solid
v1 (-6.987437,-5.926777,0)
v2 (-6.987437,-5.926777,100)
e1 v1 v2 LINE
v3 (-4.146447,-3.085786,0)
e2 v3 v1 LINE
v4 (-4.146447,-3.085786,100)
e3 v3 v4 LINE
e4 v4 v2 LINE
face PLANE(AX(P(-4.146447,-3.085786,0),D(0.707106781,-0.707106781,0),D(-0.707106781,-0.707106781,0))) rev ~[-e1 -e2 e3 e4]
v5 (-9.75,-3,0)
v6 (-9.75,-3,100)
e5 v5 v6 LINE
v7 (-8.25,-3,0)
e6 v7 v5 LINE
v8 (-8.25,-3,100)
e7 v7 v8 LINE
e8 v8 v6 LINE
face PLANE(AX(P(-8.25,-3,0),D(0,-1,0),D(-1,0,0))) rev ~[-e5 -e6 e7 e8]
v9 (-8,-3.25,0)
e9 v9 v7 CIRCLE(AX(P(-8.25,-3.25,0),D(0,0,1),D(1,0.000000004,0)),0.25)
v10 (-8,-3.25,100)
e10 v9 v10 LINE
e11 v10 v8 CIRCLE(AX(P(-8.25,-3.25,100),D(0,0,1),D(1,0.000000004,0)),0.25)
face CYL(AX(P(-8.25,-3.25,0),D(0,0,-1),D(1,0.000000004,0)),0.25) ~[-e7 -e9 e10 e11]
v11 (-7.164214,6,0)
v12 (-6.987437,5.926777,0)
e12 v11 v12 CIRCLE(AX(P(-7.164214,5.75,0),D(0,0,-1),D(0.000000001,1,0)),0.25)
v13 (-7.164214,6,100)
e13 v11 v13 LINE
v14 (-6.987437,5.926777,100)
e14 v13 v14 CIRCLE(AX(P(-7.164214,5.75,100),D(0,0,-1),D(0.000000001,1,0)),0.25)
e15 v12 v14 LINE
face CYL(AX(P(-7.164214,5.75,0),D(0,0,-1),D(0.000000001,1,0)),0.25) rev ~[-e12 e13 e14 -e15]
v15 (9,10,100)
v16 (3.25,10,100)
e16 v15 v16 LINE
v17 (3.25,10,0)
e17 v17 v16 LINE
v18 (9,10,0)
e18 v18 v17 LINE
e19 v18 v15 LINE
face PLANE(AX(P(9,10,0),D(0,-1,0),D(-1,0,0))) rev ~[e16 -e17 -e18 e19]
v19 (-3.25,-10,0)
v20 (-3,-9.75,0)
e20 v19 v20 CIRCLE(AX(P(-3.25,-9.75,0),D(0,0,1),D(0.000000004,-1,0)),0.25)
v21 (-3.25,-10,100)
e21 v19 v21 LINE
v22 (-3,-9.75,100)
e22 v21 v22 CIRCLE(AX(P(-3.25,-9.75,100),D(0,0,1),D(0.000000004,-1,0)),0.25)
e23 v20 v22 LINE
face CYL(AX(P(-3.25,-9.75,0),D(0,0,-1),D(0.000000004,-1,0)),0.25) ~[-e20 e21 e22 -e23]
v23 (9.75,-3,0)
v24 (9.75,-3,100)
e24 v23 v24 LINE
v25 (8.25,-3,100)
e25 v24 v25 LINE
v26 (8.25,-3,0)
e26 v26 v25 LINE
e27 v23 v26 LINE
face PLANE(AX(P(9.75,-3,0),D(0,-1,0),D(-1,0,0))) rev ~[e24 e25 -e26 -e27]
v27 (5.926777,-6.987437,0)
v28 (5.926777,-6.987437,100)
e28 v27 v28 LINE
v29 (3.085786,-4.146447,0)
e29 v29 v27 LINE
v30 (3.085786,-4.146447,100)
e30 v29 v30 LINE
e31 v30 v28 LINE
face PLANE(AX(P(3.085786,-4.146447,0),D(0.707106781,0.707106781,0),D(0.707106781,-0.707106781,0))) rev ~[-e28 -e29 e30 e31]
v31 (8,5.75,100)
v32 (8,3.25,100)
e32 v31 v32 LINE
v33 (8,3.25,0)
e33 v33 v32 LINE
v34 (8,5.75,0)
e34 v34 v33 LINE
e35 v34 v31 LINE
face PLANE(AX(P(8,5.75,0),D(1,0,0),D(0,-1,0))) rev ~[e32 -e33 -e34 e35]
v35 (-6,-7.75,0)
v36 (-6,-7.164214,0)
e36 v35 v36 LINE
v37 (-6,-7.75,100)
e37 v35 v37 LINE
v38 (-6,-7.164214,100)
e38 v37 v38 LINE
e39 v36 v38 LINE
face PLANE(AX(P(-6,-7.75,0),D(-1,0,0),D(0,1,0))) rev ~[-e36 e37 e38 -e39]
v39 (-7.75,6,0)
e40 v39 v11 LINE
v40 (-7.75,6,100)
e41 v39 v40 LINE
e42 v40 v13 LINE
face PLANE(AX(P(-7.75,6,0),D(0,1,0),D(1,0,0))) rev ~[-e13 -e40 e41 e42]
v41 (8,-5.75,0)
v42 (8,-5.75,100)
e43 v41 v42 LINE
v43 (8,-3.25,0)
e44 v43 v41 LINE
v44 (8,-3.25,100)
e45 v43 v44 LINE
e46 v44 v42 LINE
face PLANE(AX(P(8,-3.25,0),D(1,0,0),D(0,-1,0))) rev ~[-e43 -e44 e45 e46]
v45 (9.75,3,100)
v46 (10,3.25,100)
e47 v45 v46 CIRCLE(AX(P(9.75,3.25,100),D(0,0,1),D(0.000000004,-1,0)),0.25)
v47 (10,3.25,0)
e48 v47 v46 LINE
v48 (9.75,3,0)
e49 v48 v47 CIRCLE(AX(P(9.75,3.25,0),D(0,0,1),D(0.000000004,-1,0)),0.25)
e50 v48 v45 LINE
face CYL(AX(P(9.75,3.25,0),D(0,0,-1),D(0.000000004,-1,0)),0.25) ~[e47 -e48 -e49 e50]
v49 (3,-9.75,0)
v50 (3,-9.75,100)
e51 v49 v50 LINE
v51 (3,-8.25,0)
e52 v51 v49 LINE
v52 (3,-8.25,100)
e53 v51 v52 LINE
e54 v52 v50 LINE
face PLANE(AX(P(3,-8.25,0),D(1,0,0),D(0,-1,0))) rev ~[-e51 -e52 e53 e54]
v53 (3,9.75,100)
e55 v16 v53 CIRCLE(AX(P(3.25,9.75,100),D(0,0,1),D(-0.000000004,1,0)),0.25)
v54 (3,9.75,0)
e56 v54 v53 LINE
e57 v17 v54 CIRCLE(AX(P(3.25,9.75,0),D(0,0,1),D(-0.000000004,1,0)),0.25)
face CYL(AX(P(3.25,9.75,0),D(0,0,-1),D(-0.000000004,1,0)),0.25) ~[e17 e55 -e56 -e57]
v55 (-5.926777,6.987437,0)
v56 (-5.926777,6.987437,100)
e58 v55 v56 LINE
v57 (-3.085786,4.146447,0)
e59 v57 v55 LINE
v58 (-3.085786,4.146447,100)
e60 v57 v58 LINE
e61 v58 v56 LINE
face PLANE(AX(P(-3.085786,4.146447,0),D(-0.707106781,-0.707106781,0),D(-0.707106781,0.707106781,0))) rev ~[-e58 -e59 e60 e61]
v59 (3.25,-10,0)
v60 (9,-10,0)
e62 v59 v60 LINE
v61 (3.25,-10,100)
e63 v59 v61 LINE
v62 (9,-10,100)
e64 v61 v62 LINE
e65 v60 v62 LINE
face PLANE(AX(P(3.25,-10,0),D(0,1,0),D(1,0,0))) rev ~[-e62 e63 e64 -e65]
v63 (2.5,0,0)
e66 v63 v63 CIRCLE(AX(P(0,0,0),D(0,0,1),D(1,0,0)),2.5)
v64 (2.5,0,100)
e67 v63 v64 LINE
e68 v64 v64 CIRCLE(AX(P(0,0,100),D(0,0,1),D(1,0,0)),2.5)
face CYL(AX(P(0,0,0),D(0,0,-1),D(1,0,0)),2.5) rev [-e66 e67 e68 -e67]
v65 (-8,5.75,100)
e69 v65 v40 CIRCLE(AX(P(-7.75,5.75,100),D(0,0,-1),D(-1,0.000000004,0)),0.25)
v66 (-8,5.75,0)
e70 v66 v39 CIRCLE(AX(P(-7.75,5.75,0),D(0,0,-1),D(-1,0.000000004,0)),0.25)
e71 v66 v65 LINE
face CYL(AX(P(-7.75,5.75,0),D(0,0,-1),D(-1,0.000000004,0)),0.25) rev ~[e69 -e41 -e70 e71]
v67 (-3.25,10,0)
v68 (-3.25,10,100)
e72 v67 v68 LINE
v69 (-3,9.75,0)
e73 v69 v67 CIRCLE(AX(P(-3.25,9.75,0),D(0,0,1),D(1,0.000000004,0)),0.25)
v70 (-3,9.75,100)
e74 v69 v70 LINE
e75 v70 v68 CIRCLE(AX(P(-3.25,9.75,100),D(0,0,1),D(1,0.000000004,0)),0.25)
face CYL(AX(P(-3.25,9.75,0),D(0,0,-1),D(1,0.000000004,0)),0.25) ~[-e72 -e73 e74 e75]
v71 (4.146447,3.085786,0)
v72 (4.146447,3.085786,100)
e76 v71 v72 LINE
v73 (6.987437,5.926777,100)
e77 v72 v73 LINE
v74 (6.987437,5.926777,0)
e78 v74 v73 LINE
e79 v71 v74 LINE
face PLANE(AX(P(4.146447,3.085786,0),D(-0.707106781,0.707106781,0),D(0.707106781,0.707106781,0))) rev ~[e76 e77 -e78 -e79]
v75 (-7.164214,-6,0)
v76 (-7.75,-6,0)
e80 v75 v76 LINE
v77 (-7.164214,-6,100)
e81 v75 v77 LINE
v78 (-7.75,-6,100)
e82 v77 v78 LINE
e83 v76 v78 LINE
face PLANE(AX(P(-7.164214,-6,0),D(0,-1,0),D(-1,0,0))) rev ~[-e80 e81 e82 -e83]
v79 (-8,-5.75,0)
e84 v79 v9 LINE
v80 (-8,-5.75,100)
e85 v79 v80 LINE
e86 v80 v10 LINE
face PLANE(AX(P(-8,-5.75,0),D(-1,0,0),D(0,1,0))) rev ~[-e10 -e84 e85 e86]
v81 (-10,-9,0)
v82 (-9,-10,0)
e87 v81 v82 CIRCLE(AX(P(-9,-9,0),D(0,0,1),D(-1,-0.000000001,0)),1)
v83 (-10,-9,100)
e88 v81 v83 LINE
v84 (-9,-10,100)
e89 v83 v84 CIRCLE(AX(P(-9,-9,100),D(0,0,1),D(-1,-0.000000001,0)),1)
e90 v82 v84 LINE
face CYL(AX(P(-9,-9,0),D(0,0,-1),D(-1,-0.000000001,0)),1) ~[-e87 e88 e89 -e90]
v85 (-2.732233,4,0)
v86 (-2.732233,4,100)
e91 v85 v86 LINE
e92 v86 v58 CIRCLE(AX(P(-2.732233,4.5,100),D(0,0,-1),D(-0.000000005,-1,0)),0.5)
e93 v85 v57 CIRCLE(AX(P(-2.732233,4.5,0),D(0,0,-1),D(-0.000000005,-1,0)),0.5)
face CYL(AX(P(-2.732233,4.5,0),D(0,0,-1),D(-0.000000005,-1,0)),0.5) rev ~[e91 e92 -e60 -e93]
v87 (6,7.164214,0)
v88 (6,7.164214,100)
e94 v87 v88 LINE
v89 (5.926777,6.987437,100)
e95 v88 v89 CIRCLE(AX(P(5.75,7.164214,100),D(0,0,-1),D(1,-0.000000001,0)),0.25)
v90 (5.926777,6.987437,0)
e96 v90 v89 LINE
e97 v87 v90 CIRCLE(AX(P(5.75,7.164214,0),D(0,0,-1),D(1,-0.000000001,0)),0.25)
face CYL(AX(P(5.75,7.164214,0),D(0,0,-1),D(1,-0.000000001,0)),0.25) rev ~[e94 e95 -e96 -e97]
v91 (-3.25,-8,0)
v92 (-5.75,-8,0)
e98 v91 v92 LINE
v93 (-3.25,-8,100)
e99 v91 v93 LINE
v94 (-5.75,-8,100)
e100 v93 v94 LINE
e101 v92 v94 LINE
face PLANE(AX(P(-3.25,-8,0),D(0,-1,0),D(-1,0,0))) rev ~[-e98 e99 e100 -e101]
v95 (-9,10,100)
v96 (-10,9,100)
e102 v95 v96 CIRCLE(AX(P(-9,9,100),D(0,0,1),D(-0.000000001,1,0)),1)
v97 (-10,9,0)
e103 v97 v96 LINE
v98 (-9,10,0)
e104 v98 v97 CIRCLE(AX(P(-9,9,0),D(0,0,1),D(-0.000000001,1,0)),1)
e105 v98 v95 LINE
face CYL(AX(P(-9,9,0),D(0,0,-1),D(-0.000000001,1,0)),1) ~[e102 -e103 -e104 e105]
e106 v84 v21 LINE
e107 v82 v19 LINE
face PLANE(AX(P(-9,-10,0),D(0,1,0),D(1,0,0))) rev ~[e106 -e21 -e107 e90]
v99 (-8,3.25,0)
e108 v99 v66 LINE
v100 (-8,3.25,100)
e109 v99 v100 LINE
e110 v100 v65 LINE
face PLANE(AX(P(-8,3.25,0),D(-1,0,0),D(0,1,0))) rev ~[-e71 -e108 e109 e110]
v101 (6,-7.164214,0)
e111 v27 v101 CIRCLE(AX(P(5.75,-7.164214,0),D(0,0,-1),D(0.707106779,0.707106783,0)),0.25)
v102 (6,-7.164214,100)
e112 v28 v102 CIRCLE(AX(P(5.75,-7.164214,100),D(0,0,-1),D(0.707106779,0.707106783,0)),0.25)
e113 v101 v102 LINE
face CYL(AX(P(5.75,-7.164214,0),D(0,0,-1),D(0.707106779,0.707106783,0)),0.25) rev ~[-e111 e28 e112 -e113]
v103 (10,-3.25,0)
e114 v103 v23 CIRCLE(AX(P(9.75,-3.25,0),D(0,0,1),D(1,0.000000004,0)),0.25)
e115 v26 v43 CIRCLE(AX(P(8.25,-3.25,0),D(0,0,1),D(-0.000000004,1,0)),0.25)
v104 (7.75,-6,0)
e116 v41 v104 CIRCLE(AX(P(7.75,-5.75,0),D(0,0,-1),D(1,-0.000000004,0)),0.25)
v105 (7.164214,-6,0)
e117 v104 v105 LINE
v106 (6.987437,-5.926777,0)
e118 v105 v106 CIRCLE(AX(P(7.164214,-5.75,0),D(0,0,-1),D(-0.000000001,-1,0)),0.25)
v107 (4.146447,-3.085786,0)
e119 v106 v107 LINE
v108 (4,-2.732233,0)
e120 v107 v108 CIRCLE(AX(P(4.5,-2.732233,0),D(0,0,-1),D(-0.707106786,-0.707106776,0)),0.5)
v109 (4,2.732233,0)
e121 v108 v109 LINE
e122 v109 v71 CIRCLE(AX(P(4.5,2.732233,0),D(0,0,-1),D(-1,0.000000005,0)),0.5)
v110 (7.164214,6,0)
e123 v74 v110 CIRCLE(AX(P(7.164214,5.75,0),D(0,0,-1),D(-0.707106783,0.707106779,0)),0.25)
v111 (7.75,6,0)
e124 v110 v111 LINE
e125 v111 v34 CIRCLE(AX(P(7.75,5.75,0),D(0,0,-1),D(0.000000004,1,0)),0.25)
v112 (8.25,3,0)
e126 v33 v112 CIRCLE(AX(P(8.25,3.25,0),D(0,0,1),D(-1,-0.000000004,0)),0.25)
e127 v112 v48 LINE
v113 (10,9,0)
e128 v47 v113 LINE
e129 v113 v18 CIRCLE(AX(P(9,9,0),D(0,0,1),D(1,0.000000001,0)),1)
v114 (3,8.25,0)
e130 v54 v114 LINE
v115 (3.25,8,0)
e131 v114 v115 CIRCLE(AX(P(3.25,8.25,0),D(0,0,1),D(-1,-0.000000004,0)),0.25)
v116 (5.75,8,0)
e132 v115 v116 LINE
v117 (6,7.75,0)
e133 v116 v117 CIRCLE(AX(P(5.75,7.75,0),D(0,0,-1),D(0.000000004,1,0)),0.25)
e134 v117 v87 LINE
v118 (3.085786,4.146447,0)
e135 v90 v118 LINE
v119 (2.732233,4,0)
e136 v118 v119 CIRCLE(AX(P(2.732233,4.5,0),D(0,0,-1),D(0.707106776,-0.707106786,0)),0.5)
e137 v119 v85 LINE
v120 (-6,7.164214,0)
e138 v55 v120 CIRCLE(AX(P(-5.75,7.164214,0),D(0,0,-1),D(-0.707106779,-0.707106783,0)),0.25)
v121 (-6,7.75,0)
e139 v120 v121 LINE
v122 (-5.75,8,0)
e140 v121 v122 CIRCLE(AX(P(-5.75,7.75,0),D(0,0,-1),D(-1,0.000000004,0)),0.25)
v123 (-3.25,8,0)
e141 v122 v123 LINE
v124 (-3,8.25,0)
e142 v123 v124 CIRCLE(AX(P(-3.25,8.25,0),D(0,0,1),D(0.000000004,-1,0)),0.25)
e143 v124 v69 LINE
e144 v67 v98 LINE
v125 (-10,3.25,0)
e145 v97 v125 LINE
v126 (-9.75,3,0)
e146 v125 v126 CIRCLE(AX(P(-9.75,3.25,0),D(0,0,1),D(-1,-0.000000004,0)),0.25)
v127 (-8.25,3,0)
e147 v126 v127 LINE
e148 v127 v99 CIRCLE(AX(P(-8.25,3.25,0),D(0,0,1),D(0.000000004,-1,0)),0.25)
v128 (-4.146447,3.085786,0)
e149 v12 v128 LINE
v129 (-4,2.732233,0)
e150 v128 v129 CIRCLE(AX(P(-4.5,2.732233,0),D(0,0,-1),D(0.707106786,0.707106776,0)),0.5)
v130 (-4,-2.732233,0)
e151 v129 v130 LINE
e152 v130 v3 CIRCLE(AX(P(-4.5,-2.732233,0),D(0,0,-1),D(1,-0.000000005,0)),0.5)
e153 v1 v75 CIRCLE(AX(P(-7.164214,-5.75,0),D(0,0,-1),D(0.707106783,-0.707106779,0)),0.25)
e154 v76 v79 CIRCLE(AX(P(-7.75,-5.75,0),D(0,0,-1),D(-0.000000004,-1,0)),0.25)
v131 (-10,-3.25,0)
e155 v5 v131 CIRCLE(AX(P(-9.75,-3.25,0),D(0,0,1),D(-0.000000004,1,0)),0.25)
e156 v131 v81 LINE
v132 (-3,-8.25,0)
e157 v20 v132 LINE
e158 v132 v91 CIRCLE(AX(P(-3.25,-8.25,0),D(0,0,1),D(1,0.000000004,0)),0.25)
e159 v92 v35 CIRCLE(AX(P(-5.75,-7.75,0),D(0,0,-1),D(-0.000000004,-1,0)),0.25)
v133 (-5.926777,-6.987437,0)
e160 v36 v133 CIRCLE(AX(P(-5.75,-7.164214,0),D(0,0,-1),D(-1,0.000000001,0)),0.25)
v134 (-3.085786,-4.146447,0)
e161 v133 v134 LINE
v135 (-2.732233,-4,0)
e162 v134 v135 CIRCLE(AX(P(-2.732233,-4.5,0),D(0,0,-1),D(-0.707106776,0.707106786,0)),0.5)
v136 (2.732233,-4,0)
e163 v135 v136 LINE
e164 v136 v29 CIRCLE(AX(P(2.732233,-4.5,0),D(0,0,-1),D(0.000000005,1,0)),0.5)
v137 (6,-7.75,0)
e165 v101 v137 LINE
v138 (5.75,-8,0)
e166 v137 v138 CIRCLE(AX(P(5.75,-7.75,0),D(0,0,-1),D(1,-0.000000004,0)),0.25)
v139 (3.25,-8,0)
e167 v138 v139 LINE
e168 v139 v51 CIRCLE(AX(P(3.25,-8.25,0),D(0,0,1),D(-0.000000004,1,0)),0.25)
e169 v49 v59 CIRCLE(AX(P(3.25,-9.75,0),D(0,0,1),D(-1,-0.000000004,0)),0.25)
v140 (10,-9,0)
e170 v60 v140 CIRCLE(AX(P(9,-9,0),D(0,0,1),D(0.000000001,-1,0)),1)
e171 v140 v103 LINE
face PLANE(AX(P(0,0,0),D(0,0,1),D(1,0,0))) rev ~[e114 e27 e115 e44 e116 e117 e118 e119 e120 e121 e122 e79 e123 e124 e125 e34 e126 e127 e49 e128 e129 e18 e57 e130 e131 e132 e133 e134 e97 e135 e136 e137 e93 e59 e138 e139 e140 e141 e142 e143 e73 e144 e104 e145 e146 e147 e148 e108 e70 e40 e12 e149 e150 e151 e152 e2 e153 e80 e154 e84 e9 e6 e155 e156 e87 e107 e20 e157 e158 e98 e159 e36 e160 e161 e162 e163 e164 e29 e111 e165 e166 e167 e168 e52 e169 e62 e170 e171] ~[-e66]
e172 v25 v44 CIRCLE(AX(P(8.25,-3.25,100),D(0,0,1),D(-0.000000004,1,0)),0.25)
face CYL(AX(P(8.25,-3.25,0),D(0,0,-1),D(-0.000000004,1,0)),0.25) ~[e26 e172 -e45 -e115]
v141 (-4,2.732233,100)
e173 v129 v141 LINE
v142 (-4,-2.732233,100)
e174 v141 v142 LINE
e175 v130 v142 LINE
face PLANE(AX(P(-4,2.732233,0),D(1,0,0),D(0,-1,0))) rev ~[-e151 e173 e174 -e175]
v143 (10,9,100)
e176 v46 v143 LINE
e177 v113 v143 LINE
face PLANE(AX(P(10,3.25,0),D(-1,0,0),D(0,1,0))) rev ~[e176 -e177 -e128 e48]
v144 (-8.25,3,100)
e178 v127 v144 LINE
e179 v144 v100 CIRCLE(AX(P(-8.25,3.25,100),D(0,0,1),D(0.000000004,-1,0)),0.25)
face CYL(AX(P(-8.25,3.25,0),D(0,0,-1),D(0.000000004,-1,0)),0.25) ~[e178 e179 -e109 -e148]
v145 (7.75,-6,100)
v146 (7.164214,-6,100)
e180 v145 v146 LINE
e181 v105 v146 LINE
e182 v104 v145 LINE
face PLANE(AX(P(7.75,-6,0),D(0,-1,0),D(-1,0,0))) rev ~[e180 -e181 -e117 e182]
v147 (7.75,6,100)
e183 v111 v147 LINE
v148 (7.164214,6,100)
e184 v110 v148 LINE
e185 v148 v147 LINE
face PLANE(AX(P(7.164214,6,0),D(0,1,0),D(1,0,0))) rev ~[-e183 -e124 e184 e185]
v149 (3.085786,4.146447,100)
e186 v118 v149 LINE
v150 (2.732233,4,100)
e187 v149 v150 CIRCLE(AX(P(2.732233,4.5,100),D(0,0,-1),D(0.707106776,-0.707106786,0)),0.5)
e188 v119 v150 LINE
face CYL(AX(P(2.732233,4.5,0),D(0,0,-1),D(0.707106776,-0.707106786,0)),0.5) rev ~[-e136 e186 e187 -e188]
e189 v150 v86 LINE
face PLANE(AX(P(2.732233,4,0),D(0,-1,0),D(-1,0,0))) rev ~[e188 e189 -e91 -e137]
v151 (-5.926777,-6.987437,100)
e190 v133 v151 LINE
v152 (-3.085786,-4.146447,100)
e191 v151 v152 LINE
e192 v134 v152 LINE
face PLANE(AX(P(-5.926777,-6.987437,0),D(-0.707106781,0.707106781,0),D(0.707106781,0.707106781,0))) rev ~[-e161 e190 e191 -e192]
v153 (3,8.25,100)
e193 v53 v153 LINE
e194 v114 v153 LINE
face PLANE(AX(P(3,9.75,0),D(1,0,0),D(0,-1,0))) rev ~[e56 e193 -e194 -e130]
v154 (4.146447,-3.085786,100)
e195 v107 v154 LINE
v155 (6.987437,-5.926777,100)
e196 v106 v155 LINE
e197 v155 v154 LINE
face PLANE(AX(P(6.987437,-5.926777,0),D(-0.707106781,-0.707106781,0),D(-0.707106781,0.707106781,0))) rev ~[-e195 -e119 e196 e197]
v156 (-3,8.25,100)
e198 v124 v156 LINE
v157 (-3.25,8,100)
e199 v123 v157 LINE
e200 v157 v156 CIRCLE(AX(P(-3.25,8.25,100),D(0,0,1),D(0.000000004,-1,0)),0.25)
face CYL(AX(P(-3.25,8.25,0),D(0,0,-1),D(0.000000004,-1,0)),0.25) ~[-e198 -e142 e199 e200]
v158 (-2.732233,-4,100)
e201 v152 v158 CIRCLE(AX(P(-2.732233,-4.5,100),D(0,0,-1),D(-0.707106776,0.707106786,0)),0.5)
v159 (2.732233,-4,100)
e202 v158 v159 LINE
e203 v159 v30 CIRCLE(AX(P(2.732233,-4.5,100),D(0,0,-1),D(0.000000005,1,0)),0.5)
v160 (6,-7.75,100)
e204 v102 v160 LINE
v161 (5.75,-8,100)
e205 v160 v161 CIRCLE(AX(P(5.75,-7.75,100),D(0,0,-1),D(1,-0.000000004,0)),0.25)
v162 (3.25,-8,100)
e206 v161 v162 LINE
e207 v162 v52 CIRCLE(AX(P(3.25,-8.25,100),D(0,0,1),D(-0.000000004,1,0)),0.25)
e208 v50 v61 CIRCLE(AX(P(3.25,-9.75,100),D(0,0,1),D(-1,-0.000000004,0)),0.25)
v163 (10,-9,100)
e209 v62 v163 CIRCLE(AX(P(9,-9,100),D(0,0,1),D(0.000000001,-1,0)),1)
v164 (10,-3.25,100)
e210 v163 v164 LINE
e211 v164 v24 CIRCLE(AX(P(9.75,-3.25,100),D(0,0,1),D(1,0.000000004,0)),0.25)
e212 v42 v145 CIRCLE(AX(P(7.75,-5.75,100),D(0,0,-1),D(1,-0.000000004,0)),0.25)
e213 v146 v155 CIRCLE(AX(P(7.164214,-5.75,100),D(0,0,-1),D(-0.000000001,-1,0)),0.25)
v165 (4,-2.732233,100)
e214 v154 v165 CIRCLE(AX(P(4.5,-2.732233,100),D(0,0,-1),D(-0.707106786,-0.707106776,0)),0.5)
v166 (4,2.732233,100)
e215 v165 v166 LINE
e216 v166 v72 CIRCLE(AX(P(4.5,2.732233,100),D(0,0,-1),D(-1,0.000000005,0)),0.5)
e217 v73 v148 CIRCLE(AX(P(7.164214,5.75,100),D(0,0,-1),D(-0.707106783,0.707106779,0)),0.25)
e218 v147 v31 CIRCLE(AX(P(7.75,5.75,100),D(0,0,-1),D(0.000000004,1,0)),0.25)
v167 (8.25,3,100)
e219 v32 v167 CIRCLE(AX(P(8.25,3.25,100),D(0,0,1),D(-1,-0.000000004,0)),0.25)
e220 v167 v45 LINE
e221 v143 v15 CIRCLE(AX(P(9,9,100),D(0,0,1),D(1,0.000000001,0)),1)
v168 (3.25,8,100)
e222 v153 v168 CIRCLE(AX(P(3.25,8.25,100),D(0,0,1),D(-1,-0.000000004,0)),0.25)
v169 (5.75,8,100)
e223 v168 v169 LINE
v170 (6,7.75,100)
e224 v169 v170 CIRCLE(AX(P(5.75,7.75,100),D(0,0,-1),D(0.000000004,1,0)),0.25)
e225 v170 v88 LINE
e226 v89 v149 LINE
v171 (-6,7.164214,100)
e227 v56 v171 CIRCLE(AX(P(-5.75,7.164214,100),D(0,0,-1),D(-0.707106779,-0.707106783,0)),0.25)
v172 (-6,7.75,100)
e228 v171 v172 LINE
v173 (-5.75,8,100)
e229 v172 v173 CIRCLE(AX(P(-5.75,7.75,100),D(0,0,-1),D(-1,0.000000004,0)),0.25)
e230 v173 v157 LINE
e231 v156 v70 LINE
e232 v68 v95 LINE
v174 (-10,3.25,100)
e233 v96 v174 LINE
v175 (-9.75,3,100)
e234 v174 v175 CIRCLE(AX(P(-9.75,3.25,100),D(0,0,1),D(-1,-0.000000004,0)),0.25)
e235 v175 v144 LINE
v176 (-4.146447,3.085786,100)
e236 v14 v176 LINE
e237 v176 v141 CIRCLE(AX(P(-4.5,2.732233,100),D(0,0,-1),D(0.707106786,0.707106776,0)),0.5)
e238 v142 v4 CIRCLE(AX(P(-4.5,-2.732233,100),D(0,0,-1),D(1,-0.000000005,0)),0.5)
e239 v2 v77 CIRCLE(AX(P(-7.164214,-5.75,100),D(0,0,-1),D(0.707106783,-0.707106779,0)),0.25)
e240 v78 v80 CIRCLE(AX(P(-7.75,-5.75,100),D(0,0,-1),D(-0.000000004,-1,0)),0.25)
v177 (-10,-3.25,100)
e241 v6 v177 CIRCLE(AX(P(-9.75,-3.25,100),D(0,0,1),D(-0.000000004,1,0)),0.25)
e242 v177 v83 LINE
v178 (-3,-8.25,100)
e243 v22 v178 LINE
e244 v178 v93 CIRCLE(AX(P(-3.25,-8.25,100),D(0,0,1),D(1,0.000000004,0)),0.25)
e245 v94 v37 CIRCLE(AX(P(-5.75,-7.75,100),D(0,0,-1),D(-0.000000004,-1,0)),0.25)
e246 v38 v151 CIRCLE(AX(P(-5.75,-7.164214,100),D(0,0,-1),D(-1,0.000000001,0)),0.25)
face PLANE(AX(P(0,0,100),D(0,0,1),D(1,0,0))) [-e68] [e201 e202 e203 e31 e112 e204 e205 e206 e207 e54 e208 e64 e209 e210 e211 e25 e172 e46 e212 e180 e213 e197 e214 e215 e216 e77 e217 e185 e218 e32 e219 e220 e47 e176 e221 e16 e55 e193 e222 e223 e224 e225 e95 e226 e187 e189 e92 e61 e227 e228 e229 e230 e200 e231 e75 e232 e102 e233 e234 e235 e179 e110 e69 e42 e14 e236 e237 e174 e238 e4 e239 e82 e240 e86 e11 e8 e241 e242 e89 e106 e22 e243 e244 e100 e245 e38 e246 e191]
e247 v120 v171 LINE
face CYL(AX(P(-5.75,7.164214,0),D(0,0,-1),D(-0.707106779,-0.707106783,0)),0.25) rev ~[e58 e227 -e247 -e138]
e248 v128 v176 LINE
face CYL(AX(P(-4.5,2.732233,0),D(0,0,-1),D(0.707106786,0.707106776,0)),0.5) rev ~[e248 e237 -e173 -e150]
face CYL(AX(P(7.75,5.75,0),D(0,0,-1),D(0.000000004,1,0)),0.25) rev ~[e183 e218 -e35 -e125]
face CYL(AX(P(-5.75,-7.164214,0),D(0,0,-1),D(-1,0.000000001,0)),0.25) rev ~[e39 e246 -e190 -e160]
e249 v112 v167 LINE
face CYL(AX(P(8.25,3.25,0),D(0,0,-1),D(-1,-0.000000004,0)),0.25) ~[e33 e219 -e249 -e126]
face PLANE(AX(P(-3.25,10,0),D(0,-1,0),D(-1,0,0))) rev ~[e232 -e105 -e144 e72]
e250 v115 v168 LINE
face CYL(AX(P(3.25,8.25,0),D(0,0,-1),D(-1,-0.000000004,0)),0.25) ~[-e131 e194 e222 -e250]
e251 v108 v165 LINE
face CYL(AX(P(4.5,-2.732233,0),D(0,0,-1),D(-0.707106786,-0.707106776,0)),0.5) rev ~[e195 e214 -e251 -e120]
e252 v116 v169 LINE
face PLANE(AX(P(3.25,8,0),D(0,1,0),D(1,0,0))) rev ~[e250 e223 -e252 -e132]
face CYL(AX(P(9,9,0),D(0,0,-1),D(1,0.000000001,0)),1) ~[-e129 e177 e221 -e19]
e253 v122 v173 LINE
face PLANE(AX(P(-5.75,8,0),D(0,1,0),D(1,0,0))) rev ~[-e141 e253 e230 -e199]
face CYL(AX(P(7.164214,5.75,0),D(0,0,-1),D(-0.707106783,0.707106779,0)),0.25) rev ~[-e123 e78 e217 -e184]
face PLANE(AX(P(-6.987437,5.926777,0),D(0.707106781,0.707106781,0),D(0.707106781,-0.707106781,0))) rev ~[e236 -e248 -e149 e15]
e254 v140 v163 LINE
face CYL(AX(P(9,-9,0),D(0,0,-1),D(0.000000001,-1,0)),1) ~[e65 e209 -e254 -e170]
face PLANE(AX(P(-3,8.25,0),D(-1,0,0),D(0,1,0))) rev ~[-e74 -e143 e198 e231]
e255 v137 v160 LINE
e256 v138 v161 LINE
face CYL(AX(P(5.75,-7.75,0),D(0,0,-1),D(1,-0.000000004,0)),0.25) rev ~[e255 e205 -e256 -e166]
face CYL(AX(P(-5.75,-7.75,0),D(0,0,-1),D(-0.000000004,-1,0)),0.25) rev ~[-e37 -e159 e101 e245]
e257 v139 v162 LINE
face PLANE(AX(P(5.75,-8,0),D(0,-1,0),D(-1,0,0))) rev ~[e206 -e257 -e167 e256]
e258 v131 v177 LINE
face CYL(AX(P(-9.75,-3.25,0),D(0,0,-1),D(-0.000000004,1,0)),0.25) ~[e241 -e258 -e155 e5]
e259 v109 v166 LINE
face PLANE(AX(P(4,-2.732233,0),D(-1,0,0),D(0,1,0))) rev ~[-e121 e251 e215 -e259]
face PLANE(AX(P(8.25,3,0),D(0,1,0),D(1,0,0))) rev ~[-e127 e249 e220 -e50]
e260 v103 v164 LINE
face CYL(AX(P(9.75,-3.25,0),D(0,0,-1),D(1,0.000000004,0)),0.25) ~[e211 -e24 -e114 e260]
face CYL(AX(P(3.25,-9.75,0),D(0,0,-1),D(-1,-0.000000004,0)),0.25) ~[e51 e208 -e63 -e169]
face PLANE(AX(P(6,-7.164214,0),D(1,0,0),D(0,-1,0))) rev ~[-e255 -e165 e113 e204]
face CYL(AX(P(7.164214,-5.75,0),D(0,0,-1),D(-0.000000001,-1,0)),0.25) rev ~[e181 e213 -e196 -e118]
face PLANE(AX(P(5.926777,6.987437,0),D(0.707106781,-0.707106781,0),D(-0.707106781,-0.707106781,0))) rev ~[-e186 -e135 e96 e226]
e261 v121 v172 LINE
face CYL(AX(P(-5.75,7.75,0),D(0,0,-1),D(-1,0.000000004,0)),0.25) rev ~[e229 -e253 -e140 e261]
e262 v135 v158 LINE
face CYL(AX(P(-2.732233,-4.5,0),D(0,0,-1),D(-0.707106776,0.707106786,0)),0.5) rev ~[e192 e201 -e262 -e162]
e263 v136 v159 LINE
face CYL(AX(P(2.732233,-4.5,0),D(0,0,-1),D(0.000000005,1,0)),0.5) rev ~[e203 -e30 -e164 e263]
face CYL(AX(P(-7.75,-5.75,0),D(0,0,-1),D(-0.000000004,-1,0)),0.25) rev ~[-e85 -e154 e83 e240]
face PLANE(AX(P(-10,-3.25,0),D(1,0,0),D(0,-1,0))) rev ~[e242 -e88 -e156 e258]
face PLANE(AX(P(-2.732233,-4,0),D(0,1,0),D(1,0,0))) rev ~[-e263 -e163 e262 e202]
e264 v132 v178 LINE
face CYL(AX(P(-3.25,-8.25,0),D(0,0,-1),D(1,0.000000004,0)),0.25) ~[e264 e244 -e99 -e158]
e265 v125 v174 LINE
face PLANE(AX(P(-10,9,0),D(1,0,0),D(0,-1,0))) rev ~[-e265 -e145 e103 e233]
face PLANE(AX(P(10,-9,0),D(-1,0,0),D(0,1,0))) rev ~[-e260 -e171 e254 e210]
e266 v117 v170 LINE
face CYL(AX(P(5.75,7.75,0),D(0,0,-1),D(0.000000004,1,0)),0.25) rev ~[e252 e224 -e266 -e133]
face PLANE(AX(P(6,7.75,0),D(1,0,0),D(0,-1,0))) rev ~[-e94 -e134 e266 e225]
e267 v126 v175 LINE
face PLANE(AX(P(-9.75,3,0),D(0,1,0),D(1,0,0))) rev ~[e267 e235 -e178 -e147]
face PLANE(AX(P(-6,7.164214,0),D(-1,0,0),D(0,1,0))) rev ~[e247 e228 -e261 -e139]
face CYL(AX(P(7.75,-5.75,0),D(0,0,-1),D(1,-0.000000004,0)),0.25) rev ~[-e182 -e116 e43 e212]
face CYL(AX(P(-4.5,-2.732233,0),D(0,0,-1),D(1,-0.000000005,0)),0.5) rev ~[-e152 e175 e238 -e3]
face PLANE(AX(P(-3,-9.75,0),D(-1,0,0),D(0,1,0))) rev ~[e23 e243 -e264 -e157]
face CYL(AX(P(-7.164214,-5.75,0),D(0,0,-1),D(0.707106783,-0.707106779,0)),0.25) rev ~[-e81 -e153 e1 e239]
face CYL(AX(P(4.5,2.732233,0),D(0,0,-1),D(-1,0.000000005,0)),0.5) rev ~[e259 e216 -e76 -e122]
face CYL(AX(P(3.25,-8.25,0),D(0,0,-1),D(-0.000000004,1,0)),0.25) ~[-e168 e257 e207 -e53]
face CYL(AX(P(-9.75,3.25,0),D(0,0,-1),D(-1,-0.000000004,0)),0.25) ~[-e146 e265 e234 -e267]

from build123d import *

# Parameters (mm, degrees)
SKETCH2_R           = 2.5
BOSS_EXTRUDE1_DEPTH = 100


with BuildPart() as part:
    # Sketch2 → Boss-Extrude1 (new body)
    with BuildSketch(Plane.XY):
        with BuildLine():
            Line((10, 3.25), (10, 9))
            ThreePointArc((10, 9), (9.707106781, 9.707106781), (9, 10))
            Line((9, 10), (3.25, 10))
            ThreePointArc((3.25, 10), (3.073223305, 9.926776695), (3, 9.75))
            Line((3, 9.75), (3, 8.25))
            ThreePointArc((3, 8.25), (3.073223305, 8.073223305), (3.25, 8))
            Line((3.25, 8), (5.75, 8))
            ThreePointArc((5.75, 8), (5.926776695, 7.926776695), (6, 7.75))
            Line((6, 7.75), (6, 7.164213562))
            ThreePointArc((6, 7.164213562), (5.980969883, 7.068542704), (5.926776695, 6.987436867))
            Line((5.926776695, 6.987436867), (3.085786438, 4.146446609))
            ThreePointArc((3.085786438, 4.146446609), (2.923574763, 4.038060234), (2.732233047, 4))
            Line((2.732233047, 4), (-2.732233047, 4))
            ThreePointArc((-2.732233047, 4), (-2.923574763, 4.038060234), (-3.085786438, 4.146446609))
            Line((-3.085786438, 4.146446609), (-5.926776695, 6.987436867))
            ThreePointArc((-5.926776695, 6.987436867), (-5.980969883, 7.068542704), (-6, 7.164213562))
            Line((-6, 7.164213562), (-6, 7.75))
            ThreePointArc((-6, 7.75), (-5.926776695, 7.926776695), (-5.75, 8))
            Line((-5.75, 8), (-3.25, 8))
            ThreePointArc((-3.25, 8), (-3.073223305, 8.073223305), (-3, 8.25))
            Line((-3, 8.25), (-3, 9.75))
            ThreePointArc((-3, 9.75), (-3.073223305, 9.926776695), (-3.25, 10))
            Line((-3.25, 10), (-9, 10))
            ThreePointArc((-9, 10), (-9.707106781, 9.707106781), (-10, 9))
            Line((-10, 9), (-10, 3.25))
            ThreePointArc((-10, 3.25), (-9.926776695, 3.073223305), (-9.75, 3))
            Line((-9.75, 3), (-8.25, 3))
            ThreePointArc((-8.25, 3), (-8.073223305, 3.073223305), (-8, 3.25))
            Line((-8, 3.25), (-8, 5.75))
            ThreePointArc((-8, 5.75), (-7.926776695, 5.926776695), (-7.75, 6))
            Line((-7.75, 6), (-7.164213562, 6))
            ThreePointArc((-7.164213562, 6), (-7.068542704, 5.980969883), (-6.987436867, 5.926776695))
            Line((-6.987436867, 5.926776695), (-4.146446609, 3.085786438))
            ThreePointArc((-4.146446609, 3.085786438), (-4.038060234, 2.923574763), (-4, 2.732233047))
            Line((-4, 2.732233047), (-4, -2.732233047))
            ThreePointArc((-4, -2.732233047), (-4.038060234, -2.923574763), (-4.146446609, -3.085786438))
            Line((-4.146446609, -3.085786438), (-6.987436867, -5.926776695))
            ThreePointArc((-6.987436867, -5.926776695), (-7.068542704, -5.980969883), (-7.164213562, -6))
            Line((-7.164213562, -6), (-7.75, -6))
            ThreePointArc((-7.75, -6), (-7.926776695, -5.926776695), (-8, -5.75))
            Line((-8, -5.75), (-8, -3.25))
            ThreePointArc((-8, -3.25), (-8.073223305, -3.073223305), (-8.25, -3))
            Line((-8.25, -3), (-9.75, -3))
            ThreePointArc((-9.75, -3), (-9.926776695, -3.073223305), (-10, -3.25))
            Line((-10, -3.25), (-10, -9))
            ThreePointArc((-10, -9), (-9.707106781, -9.707106781), (-9, -10))
            Line((-9, -10), (-3.25, -10))
            ThreePointArc((-3.25, -10), (-3.073223305, -9.926776695), (-3, -9.75))
            Line((-3, -9.75), (-3, -8.25))
            ThreePointArc((-3, -8.25), (-3.073223305, -8.073223305), (-3.25, -8))
            Line((-3.25, -8), (-5.75, -8))
            ThreePointArc((-5.75, -8), (-5.926776695, -7.926776695), (-6, -7.75))
            Line((-6, -7.75), (-6, -7.164213562))
            ThreePointArc((-6, -7.164213562), (-5.980969883, -7.068542704), (-5.926776695, -6.987436867))
            Line((-5.926776695, -6.987436867), (-3.085786438, -4.146446609))
            ThreePointArc((-3.085786438, -4.146446609), (-2.923574763, -4.038060234), (-2.732233047, -4))
            Line((-2.732233047, -4), (2.732233047, -4))
            ThreePointArc((2.732233047, -4), (2.923574763, -4.038060234), (3.085786438, -4.146446609))
            Line((3.085786438, -4.146446609), (5.926776695, -6.987436867))
            ThreePointArc((5.926776695, -6.987436867), (5.980969883, -7.068542704), (6, -7.164213562))
            Line((6, -7.164213562), (6, -7.75))
            ThreePointArc((6, -7.75), (5.926776695, -7.926776695), (5.75, -8))
            Line((5.75, -8), (3.25, -8))
            ThreePointArc((3.25, -8), (3.073223305, -8.073223305), (3, -8.25))
            Line((3, -8.25), (3, -9.75))
            ThreePointArc((3, -9.75), (3.073223305, -9.926776695), (3.25, -10))
            Line((3.25, -10), (9, -10))
            ThreePointArc((9, -10), (9.707106781, -9.707106781), (10, -9))
            Line((10, -9), (10, -3.25))
            ThreePointArc((10, -3.25), (9.926776695, -3.073223305), (9.75, -3))
            Line((9.75, -3), (8.25, -3))
            ThreePointArc((8.25, -3), (8.073223305, -3.073223305), (8, -3.25))
            Line((8, -3.25), (8, -5.75))
            ThreePointArc((8, -5.75), (7.926776695, -5.926776695), (7.75, -6))
            Line((7.75, -6), (7.164213562, -6))
            ThreePointArc((7.164213562, -6), (7.068542704, -5.980969883), (6.987436867, -5.926776695))
            Line((6.987436867, -5.926776695), (4.146446609, -3.085786438))
            ThreePointArc((4.146446609, -3.085786438), (4.038060234, -2.923574763), (4, -2.732233047))
            Line((4, -2.732233047), (4, 2.732233047))
            ThreePointArc((4, 2.732233047), (4.038060234, 2.923574763), (4.146446609, 3.085786438))
            Line((4.146446609, 3.085786438), (6.987436867, 5.926776695))
            ThreePointArc((6.987436867, 5.926776695), (7.068542704, 5.980969883), (7.164213562, 6))
            Line((7.164213562, 6), (7.75, 6))
            ThreePointArc((7.75, 6), (7.926776695, 5.926776695), (8, 5.75))
            Line((8, 5.75), (8, 3.25))
            ThreePointArc((8, 3.25), (8.073223305, 3.073223305), (8.25, 3))
            Line((8.25, 3), (9.75, 3))
            ThreePointArc((9.75, 3), (9.926776695, 3.073223305), (10, 3.25))
        make_face()
        Circle(SKETCH2_R, mode=Mode.SUBTRACT)
    extrude(amount=BOSS_EXTRUDE1_DEPTH)


solid = part.part
